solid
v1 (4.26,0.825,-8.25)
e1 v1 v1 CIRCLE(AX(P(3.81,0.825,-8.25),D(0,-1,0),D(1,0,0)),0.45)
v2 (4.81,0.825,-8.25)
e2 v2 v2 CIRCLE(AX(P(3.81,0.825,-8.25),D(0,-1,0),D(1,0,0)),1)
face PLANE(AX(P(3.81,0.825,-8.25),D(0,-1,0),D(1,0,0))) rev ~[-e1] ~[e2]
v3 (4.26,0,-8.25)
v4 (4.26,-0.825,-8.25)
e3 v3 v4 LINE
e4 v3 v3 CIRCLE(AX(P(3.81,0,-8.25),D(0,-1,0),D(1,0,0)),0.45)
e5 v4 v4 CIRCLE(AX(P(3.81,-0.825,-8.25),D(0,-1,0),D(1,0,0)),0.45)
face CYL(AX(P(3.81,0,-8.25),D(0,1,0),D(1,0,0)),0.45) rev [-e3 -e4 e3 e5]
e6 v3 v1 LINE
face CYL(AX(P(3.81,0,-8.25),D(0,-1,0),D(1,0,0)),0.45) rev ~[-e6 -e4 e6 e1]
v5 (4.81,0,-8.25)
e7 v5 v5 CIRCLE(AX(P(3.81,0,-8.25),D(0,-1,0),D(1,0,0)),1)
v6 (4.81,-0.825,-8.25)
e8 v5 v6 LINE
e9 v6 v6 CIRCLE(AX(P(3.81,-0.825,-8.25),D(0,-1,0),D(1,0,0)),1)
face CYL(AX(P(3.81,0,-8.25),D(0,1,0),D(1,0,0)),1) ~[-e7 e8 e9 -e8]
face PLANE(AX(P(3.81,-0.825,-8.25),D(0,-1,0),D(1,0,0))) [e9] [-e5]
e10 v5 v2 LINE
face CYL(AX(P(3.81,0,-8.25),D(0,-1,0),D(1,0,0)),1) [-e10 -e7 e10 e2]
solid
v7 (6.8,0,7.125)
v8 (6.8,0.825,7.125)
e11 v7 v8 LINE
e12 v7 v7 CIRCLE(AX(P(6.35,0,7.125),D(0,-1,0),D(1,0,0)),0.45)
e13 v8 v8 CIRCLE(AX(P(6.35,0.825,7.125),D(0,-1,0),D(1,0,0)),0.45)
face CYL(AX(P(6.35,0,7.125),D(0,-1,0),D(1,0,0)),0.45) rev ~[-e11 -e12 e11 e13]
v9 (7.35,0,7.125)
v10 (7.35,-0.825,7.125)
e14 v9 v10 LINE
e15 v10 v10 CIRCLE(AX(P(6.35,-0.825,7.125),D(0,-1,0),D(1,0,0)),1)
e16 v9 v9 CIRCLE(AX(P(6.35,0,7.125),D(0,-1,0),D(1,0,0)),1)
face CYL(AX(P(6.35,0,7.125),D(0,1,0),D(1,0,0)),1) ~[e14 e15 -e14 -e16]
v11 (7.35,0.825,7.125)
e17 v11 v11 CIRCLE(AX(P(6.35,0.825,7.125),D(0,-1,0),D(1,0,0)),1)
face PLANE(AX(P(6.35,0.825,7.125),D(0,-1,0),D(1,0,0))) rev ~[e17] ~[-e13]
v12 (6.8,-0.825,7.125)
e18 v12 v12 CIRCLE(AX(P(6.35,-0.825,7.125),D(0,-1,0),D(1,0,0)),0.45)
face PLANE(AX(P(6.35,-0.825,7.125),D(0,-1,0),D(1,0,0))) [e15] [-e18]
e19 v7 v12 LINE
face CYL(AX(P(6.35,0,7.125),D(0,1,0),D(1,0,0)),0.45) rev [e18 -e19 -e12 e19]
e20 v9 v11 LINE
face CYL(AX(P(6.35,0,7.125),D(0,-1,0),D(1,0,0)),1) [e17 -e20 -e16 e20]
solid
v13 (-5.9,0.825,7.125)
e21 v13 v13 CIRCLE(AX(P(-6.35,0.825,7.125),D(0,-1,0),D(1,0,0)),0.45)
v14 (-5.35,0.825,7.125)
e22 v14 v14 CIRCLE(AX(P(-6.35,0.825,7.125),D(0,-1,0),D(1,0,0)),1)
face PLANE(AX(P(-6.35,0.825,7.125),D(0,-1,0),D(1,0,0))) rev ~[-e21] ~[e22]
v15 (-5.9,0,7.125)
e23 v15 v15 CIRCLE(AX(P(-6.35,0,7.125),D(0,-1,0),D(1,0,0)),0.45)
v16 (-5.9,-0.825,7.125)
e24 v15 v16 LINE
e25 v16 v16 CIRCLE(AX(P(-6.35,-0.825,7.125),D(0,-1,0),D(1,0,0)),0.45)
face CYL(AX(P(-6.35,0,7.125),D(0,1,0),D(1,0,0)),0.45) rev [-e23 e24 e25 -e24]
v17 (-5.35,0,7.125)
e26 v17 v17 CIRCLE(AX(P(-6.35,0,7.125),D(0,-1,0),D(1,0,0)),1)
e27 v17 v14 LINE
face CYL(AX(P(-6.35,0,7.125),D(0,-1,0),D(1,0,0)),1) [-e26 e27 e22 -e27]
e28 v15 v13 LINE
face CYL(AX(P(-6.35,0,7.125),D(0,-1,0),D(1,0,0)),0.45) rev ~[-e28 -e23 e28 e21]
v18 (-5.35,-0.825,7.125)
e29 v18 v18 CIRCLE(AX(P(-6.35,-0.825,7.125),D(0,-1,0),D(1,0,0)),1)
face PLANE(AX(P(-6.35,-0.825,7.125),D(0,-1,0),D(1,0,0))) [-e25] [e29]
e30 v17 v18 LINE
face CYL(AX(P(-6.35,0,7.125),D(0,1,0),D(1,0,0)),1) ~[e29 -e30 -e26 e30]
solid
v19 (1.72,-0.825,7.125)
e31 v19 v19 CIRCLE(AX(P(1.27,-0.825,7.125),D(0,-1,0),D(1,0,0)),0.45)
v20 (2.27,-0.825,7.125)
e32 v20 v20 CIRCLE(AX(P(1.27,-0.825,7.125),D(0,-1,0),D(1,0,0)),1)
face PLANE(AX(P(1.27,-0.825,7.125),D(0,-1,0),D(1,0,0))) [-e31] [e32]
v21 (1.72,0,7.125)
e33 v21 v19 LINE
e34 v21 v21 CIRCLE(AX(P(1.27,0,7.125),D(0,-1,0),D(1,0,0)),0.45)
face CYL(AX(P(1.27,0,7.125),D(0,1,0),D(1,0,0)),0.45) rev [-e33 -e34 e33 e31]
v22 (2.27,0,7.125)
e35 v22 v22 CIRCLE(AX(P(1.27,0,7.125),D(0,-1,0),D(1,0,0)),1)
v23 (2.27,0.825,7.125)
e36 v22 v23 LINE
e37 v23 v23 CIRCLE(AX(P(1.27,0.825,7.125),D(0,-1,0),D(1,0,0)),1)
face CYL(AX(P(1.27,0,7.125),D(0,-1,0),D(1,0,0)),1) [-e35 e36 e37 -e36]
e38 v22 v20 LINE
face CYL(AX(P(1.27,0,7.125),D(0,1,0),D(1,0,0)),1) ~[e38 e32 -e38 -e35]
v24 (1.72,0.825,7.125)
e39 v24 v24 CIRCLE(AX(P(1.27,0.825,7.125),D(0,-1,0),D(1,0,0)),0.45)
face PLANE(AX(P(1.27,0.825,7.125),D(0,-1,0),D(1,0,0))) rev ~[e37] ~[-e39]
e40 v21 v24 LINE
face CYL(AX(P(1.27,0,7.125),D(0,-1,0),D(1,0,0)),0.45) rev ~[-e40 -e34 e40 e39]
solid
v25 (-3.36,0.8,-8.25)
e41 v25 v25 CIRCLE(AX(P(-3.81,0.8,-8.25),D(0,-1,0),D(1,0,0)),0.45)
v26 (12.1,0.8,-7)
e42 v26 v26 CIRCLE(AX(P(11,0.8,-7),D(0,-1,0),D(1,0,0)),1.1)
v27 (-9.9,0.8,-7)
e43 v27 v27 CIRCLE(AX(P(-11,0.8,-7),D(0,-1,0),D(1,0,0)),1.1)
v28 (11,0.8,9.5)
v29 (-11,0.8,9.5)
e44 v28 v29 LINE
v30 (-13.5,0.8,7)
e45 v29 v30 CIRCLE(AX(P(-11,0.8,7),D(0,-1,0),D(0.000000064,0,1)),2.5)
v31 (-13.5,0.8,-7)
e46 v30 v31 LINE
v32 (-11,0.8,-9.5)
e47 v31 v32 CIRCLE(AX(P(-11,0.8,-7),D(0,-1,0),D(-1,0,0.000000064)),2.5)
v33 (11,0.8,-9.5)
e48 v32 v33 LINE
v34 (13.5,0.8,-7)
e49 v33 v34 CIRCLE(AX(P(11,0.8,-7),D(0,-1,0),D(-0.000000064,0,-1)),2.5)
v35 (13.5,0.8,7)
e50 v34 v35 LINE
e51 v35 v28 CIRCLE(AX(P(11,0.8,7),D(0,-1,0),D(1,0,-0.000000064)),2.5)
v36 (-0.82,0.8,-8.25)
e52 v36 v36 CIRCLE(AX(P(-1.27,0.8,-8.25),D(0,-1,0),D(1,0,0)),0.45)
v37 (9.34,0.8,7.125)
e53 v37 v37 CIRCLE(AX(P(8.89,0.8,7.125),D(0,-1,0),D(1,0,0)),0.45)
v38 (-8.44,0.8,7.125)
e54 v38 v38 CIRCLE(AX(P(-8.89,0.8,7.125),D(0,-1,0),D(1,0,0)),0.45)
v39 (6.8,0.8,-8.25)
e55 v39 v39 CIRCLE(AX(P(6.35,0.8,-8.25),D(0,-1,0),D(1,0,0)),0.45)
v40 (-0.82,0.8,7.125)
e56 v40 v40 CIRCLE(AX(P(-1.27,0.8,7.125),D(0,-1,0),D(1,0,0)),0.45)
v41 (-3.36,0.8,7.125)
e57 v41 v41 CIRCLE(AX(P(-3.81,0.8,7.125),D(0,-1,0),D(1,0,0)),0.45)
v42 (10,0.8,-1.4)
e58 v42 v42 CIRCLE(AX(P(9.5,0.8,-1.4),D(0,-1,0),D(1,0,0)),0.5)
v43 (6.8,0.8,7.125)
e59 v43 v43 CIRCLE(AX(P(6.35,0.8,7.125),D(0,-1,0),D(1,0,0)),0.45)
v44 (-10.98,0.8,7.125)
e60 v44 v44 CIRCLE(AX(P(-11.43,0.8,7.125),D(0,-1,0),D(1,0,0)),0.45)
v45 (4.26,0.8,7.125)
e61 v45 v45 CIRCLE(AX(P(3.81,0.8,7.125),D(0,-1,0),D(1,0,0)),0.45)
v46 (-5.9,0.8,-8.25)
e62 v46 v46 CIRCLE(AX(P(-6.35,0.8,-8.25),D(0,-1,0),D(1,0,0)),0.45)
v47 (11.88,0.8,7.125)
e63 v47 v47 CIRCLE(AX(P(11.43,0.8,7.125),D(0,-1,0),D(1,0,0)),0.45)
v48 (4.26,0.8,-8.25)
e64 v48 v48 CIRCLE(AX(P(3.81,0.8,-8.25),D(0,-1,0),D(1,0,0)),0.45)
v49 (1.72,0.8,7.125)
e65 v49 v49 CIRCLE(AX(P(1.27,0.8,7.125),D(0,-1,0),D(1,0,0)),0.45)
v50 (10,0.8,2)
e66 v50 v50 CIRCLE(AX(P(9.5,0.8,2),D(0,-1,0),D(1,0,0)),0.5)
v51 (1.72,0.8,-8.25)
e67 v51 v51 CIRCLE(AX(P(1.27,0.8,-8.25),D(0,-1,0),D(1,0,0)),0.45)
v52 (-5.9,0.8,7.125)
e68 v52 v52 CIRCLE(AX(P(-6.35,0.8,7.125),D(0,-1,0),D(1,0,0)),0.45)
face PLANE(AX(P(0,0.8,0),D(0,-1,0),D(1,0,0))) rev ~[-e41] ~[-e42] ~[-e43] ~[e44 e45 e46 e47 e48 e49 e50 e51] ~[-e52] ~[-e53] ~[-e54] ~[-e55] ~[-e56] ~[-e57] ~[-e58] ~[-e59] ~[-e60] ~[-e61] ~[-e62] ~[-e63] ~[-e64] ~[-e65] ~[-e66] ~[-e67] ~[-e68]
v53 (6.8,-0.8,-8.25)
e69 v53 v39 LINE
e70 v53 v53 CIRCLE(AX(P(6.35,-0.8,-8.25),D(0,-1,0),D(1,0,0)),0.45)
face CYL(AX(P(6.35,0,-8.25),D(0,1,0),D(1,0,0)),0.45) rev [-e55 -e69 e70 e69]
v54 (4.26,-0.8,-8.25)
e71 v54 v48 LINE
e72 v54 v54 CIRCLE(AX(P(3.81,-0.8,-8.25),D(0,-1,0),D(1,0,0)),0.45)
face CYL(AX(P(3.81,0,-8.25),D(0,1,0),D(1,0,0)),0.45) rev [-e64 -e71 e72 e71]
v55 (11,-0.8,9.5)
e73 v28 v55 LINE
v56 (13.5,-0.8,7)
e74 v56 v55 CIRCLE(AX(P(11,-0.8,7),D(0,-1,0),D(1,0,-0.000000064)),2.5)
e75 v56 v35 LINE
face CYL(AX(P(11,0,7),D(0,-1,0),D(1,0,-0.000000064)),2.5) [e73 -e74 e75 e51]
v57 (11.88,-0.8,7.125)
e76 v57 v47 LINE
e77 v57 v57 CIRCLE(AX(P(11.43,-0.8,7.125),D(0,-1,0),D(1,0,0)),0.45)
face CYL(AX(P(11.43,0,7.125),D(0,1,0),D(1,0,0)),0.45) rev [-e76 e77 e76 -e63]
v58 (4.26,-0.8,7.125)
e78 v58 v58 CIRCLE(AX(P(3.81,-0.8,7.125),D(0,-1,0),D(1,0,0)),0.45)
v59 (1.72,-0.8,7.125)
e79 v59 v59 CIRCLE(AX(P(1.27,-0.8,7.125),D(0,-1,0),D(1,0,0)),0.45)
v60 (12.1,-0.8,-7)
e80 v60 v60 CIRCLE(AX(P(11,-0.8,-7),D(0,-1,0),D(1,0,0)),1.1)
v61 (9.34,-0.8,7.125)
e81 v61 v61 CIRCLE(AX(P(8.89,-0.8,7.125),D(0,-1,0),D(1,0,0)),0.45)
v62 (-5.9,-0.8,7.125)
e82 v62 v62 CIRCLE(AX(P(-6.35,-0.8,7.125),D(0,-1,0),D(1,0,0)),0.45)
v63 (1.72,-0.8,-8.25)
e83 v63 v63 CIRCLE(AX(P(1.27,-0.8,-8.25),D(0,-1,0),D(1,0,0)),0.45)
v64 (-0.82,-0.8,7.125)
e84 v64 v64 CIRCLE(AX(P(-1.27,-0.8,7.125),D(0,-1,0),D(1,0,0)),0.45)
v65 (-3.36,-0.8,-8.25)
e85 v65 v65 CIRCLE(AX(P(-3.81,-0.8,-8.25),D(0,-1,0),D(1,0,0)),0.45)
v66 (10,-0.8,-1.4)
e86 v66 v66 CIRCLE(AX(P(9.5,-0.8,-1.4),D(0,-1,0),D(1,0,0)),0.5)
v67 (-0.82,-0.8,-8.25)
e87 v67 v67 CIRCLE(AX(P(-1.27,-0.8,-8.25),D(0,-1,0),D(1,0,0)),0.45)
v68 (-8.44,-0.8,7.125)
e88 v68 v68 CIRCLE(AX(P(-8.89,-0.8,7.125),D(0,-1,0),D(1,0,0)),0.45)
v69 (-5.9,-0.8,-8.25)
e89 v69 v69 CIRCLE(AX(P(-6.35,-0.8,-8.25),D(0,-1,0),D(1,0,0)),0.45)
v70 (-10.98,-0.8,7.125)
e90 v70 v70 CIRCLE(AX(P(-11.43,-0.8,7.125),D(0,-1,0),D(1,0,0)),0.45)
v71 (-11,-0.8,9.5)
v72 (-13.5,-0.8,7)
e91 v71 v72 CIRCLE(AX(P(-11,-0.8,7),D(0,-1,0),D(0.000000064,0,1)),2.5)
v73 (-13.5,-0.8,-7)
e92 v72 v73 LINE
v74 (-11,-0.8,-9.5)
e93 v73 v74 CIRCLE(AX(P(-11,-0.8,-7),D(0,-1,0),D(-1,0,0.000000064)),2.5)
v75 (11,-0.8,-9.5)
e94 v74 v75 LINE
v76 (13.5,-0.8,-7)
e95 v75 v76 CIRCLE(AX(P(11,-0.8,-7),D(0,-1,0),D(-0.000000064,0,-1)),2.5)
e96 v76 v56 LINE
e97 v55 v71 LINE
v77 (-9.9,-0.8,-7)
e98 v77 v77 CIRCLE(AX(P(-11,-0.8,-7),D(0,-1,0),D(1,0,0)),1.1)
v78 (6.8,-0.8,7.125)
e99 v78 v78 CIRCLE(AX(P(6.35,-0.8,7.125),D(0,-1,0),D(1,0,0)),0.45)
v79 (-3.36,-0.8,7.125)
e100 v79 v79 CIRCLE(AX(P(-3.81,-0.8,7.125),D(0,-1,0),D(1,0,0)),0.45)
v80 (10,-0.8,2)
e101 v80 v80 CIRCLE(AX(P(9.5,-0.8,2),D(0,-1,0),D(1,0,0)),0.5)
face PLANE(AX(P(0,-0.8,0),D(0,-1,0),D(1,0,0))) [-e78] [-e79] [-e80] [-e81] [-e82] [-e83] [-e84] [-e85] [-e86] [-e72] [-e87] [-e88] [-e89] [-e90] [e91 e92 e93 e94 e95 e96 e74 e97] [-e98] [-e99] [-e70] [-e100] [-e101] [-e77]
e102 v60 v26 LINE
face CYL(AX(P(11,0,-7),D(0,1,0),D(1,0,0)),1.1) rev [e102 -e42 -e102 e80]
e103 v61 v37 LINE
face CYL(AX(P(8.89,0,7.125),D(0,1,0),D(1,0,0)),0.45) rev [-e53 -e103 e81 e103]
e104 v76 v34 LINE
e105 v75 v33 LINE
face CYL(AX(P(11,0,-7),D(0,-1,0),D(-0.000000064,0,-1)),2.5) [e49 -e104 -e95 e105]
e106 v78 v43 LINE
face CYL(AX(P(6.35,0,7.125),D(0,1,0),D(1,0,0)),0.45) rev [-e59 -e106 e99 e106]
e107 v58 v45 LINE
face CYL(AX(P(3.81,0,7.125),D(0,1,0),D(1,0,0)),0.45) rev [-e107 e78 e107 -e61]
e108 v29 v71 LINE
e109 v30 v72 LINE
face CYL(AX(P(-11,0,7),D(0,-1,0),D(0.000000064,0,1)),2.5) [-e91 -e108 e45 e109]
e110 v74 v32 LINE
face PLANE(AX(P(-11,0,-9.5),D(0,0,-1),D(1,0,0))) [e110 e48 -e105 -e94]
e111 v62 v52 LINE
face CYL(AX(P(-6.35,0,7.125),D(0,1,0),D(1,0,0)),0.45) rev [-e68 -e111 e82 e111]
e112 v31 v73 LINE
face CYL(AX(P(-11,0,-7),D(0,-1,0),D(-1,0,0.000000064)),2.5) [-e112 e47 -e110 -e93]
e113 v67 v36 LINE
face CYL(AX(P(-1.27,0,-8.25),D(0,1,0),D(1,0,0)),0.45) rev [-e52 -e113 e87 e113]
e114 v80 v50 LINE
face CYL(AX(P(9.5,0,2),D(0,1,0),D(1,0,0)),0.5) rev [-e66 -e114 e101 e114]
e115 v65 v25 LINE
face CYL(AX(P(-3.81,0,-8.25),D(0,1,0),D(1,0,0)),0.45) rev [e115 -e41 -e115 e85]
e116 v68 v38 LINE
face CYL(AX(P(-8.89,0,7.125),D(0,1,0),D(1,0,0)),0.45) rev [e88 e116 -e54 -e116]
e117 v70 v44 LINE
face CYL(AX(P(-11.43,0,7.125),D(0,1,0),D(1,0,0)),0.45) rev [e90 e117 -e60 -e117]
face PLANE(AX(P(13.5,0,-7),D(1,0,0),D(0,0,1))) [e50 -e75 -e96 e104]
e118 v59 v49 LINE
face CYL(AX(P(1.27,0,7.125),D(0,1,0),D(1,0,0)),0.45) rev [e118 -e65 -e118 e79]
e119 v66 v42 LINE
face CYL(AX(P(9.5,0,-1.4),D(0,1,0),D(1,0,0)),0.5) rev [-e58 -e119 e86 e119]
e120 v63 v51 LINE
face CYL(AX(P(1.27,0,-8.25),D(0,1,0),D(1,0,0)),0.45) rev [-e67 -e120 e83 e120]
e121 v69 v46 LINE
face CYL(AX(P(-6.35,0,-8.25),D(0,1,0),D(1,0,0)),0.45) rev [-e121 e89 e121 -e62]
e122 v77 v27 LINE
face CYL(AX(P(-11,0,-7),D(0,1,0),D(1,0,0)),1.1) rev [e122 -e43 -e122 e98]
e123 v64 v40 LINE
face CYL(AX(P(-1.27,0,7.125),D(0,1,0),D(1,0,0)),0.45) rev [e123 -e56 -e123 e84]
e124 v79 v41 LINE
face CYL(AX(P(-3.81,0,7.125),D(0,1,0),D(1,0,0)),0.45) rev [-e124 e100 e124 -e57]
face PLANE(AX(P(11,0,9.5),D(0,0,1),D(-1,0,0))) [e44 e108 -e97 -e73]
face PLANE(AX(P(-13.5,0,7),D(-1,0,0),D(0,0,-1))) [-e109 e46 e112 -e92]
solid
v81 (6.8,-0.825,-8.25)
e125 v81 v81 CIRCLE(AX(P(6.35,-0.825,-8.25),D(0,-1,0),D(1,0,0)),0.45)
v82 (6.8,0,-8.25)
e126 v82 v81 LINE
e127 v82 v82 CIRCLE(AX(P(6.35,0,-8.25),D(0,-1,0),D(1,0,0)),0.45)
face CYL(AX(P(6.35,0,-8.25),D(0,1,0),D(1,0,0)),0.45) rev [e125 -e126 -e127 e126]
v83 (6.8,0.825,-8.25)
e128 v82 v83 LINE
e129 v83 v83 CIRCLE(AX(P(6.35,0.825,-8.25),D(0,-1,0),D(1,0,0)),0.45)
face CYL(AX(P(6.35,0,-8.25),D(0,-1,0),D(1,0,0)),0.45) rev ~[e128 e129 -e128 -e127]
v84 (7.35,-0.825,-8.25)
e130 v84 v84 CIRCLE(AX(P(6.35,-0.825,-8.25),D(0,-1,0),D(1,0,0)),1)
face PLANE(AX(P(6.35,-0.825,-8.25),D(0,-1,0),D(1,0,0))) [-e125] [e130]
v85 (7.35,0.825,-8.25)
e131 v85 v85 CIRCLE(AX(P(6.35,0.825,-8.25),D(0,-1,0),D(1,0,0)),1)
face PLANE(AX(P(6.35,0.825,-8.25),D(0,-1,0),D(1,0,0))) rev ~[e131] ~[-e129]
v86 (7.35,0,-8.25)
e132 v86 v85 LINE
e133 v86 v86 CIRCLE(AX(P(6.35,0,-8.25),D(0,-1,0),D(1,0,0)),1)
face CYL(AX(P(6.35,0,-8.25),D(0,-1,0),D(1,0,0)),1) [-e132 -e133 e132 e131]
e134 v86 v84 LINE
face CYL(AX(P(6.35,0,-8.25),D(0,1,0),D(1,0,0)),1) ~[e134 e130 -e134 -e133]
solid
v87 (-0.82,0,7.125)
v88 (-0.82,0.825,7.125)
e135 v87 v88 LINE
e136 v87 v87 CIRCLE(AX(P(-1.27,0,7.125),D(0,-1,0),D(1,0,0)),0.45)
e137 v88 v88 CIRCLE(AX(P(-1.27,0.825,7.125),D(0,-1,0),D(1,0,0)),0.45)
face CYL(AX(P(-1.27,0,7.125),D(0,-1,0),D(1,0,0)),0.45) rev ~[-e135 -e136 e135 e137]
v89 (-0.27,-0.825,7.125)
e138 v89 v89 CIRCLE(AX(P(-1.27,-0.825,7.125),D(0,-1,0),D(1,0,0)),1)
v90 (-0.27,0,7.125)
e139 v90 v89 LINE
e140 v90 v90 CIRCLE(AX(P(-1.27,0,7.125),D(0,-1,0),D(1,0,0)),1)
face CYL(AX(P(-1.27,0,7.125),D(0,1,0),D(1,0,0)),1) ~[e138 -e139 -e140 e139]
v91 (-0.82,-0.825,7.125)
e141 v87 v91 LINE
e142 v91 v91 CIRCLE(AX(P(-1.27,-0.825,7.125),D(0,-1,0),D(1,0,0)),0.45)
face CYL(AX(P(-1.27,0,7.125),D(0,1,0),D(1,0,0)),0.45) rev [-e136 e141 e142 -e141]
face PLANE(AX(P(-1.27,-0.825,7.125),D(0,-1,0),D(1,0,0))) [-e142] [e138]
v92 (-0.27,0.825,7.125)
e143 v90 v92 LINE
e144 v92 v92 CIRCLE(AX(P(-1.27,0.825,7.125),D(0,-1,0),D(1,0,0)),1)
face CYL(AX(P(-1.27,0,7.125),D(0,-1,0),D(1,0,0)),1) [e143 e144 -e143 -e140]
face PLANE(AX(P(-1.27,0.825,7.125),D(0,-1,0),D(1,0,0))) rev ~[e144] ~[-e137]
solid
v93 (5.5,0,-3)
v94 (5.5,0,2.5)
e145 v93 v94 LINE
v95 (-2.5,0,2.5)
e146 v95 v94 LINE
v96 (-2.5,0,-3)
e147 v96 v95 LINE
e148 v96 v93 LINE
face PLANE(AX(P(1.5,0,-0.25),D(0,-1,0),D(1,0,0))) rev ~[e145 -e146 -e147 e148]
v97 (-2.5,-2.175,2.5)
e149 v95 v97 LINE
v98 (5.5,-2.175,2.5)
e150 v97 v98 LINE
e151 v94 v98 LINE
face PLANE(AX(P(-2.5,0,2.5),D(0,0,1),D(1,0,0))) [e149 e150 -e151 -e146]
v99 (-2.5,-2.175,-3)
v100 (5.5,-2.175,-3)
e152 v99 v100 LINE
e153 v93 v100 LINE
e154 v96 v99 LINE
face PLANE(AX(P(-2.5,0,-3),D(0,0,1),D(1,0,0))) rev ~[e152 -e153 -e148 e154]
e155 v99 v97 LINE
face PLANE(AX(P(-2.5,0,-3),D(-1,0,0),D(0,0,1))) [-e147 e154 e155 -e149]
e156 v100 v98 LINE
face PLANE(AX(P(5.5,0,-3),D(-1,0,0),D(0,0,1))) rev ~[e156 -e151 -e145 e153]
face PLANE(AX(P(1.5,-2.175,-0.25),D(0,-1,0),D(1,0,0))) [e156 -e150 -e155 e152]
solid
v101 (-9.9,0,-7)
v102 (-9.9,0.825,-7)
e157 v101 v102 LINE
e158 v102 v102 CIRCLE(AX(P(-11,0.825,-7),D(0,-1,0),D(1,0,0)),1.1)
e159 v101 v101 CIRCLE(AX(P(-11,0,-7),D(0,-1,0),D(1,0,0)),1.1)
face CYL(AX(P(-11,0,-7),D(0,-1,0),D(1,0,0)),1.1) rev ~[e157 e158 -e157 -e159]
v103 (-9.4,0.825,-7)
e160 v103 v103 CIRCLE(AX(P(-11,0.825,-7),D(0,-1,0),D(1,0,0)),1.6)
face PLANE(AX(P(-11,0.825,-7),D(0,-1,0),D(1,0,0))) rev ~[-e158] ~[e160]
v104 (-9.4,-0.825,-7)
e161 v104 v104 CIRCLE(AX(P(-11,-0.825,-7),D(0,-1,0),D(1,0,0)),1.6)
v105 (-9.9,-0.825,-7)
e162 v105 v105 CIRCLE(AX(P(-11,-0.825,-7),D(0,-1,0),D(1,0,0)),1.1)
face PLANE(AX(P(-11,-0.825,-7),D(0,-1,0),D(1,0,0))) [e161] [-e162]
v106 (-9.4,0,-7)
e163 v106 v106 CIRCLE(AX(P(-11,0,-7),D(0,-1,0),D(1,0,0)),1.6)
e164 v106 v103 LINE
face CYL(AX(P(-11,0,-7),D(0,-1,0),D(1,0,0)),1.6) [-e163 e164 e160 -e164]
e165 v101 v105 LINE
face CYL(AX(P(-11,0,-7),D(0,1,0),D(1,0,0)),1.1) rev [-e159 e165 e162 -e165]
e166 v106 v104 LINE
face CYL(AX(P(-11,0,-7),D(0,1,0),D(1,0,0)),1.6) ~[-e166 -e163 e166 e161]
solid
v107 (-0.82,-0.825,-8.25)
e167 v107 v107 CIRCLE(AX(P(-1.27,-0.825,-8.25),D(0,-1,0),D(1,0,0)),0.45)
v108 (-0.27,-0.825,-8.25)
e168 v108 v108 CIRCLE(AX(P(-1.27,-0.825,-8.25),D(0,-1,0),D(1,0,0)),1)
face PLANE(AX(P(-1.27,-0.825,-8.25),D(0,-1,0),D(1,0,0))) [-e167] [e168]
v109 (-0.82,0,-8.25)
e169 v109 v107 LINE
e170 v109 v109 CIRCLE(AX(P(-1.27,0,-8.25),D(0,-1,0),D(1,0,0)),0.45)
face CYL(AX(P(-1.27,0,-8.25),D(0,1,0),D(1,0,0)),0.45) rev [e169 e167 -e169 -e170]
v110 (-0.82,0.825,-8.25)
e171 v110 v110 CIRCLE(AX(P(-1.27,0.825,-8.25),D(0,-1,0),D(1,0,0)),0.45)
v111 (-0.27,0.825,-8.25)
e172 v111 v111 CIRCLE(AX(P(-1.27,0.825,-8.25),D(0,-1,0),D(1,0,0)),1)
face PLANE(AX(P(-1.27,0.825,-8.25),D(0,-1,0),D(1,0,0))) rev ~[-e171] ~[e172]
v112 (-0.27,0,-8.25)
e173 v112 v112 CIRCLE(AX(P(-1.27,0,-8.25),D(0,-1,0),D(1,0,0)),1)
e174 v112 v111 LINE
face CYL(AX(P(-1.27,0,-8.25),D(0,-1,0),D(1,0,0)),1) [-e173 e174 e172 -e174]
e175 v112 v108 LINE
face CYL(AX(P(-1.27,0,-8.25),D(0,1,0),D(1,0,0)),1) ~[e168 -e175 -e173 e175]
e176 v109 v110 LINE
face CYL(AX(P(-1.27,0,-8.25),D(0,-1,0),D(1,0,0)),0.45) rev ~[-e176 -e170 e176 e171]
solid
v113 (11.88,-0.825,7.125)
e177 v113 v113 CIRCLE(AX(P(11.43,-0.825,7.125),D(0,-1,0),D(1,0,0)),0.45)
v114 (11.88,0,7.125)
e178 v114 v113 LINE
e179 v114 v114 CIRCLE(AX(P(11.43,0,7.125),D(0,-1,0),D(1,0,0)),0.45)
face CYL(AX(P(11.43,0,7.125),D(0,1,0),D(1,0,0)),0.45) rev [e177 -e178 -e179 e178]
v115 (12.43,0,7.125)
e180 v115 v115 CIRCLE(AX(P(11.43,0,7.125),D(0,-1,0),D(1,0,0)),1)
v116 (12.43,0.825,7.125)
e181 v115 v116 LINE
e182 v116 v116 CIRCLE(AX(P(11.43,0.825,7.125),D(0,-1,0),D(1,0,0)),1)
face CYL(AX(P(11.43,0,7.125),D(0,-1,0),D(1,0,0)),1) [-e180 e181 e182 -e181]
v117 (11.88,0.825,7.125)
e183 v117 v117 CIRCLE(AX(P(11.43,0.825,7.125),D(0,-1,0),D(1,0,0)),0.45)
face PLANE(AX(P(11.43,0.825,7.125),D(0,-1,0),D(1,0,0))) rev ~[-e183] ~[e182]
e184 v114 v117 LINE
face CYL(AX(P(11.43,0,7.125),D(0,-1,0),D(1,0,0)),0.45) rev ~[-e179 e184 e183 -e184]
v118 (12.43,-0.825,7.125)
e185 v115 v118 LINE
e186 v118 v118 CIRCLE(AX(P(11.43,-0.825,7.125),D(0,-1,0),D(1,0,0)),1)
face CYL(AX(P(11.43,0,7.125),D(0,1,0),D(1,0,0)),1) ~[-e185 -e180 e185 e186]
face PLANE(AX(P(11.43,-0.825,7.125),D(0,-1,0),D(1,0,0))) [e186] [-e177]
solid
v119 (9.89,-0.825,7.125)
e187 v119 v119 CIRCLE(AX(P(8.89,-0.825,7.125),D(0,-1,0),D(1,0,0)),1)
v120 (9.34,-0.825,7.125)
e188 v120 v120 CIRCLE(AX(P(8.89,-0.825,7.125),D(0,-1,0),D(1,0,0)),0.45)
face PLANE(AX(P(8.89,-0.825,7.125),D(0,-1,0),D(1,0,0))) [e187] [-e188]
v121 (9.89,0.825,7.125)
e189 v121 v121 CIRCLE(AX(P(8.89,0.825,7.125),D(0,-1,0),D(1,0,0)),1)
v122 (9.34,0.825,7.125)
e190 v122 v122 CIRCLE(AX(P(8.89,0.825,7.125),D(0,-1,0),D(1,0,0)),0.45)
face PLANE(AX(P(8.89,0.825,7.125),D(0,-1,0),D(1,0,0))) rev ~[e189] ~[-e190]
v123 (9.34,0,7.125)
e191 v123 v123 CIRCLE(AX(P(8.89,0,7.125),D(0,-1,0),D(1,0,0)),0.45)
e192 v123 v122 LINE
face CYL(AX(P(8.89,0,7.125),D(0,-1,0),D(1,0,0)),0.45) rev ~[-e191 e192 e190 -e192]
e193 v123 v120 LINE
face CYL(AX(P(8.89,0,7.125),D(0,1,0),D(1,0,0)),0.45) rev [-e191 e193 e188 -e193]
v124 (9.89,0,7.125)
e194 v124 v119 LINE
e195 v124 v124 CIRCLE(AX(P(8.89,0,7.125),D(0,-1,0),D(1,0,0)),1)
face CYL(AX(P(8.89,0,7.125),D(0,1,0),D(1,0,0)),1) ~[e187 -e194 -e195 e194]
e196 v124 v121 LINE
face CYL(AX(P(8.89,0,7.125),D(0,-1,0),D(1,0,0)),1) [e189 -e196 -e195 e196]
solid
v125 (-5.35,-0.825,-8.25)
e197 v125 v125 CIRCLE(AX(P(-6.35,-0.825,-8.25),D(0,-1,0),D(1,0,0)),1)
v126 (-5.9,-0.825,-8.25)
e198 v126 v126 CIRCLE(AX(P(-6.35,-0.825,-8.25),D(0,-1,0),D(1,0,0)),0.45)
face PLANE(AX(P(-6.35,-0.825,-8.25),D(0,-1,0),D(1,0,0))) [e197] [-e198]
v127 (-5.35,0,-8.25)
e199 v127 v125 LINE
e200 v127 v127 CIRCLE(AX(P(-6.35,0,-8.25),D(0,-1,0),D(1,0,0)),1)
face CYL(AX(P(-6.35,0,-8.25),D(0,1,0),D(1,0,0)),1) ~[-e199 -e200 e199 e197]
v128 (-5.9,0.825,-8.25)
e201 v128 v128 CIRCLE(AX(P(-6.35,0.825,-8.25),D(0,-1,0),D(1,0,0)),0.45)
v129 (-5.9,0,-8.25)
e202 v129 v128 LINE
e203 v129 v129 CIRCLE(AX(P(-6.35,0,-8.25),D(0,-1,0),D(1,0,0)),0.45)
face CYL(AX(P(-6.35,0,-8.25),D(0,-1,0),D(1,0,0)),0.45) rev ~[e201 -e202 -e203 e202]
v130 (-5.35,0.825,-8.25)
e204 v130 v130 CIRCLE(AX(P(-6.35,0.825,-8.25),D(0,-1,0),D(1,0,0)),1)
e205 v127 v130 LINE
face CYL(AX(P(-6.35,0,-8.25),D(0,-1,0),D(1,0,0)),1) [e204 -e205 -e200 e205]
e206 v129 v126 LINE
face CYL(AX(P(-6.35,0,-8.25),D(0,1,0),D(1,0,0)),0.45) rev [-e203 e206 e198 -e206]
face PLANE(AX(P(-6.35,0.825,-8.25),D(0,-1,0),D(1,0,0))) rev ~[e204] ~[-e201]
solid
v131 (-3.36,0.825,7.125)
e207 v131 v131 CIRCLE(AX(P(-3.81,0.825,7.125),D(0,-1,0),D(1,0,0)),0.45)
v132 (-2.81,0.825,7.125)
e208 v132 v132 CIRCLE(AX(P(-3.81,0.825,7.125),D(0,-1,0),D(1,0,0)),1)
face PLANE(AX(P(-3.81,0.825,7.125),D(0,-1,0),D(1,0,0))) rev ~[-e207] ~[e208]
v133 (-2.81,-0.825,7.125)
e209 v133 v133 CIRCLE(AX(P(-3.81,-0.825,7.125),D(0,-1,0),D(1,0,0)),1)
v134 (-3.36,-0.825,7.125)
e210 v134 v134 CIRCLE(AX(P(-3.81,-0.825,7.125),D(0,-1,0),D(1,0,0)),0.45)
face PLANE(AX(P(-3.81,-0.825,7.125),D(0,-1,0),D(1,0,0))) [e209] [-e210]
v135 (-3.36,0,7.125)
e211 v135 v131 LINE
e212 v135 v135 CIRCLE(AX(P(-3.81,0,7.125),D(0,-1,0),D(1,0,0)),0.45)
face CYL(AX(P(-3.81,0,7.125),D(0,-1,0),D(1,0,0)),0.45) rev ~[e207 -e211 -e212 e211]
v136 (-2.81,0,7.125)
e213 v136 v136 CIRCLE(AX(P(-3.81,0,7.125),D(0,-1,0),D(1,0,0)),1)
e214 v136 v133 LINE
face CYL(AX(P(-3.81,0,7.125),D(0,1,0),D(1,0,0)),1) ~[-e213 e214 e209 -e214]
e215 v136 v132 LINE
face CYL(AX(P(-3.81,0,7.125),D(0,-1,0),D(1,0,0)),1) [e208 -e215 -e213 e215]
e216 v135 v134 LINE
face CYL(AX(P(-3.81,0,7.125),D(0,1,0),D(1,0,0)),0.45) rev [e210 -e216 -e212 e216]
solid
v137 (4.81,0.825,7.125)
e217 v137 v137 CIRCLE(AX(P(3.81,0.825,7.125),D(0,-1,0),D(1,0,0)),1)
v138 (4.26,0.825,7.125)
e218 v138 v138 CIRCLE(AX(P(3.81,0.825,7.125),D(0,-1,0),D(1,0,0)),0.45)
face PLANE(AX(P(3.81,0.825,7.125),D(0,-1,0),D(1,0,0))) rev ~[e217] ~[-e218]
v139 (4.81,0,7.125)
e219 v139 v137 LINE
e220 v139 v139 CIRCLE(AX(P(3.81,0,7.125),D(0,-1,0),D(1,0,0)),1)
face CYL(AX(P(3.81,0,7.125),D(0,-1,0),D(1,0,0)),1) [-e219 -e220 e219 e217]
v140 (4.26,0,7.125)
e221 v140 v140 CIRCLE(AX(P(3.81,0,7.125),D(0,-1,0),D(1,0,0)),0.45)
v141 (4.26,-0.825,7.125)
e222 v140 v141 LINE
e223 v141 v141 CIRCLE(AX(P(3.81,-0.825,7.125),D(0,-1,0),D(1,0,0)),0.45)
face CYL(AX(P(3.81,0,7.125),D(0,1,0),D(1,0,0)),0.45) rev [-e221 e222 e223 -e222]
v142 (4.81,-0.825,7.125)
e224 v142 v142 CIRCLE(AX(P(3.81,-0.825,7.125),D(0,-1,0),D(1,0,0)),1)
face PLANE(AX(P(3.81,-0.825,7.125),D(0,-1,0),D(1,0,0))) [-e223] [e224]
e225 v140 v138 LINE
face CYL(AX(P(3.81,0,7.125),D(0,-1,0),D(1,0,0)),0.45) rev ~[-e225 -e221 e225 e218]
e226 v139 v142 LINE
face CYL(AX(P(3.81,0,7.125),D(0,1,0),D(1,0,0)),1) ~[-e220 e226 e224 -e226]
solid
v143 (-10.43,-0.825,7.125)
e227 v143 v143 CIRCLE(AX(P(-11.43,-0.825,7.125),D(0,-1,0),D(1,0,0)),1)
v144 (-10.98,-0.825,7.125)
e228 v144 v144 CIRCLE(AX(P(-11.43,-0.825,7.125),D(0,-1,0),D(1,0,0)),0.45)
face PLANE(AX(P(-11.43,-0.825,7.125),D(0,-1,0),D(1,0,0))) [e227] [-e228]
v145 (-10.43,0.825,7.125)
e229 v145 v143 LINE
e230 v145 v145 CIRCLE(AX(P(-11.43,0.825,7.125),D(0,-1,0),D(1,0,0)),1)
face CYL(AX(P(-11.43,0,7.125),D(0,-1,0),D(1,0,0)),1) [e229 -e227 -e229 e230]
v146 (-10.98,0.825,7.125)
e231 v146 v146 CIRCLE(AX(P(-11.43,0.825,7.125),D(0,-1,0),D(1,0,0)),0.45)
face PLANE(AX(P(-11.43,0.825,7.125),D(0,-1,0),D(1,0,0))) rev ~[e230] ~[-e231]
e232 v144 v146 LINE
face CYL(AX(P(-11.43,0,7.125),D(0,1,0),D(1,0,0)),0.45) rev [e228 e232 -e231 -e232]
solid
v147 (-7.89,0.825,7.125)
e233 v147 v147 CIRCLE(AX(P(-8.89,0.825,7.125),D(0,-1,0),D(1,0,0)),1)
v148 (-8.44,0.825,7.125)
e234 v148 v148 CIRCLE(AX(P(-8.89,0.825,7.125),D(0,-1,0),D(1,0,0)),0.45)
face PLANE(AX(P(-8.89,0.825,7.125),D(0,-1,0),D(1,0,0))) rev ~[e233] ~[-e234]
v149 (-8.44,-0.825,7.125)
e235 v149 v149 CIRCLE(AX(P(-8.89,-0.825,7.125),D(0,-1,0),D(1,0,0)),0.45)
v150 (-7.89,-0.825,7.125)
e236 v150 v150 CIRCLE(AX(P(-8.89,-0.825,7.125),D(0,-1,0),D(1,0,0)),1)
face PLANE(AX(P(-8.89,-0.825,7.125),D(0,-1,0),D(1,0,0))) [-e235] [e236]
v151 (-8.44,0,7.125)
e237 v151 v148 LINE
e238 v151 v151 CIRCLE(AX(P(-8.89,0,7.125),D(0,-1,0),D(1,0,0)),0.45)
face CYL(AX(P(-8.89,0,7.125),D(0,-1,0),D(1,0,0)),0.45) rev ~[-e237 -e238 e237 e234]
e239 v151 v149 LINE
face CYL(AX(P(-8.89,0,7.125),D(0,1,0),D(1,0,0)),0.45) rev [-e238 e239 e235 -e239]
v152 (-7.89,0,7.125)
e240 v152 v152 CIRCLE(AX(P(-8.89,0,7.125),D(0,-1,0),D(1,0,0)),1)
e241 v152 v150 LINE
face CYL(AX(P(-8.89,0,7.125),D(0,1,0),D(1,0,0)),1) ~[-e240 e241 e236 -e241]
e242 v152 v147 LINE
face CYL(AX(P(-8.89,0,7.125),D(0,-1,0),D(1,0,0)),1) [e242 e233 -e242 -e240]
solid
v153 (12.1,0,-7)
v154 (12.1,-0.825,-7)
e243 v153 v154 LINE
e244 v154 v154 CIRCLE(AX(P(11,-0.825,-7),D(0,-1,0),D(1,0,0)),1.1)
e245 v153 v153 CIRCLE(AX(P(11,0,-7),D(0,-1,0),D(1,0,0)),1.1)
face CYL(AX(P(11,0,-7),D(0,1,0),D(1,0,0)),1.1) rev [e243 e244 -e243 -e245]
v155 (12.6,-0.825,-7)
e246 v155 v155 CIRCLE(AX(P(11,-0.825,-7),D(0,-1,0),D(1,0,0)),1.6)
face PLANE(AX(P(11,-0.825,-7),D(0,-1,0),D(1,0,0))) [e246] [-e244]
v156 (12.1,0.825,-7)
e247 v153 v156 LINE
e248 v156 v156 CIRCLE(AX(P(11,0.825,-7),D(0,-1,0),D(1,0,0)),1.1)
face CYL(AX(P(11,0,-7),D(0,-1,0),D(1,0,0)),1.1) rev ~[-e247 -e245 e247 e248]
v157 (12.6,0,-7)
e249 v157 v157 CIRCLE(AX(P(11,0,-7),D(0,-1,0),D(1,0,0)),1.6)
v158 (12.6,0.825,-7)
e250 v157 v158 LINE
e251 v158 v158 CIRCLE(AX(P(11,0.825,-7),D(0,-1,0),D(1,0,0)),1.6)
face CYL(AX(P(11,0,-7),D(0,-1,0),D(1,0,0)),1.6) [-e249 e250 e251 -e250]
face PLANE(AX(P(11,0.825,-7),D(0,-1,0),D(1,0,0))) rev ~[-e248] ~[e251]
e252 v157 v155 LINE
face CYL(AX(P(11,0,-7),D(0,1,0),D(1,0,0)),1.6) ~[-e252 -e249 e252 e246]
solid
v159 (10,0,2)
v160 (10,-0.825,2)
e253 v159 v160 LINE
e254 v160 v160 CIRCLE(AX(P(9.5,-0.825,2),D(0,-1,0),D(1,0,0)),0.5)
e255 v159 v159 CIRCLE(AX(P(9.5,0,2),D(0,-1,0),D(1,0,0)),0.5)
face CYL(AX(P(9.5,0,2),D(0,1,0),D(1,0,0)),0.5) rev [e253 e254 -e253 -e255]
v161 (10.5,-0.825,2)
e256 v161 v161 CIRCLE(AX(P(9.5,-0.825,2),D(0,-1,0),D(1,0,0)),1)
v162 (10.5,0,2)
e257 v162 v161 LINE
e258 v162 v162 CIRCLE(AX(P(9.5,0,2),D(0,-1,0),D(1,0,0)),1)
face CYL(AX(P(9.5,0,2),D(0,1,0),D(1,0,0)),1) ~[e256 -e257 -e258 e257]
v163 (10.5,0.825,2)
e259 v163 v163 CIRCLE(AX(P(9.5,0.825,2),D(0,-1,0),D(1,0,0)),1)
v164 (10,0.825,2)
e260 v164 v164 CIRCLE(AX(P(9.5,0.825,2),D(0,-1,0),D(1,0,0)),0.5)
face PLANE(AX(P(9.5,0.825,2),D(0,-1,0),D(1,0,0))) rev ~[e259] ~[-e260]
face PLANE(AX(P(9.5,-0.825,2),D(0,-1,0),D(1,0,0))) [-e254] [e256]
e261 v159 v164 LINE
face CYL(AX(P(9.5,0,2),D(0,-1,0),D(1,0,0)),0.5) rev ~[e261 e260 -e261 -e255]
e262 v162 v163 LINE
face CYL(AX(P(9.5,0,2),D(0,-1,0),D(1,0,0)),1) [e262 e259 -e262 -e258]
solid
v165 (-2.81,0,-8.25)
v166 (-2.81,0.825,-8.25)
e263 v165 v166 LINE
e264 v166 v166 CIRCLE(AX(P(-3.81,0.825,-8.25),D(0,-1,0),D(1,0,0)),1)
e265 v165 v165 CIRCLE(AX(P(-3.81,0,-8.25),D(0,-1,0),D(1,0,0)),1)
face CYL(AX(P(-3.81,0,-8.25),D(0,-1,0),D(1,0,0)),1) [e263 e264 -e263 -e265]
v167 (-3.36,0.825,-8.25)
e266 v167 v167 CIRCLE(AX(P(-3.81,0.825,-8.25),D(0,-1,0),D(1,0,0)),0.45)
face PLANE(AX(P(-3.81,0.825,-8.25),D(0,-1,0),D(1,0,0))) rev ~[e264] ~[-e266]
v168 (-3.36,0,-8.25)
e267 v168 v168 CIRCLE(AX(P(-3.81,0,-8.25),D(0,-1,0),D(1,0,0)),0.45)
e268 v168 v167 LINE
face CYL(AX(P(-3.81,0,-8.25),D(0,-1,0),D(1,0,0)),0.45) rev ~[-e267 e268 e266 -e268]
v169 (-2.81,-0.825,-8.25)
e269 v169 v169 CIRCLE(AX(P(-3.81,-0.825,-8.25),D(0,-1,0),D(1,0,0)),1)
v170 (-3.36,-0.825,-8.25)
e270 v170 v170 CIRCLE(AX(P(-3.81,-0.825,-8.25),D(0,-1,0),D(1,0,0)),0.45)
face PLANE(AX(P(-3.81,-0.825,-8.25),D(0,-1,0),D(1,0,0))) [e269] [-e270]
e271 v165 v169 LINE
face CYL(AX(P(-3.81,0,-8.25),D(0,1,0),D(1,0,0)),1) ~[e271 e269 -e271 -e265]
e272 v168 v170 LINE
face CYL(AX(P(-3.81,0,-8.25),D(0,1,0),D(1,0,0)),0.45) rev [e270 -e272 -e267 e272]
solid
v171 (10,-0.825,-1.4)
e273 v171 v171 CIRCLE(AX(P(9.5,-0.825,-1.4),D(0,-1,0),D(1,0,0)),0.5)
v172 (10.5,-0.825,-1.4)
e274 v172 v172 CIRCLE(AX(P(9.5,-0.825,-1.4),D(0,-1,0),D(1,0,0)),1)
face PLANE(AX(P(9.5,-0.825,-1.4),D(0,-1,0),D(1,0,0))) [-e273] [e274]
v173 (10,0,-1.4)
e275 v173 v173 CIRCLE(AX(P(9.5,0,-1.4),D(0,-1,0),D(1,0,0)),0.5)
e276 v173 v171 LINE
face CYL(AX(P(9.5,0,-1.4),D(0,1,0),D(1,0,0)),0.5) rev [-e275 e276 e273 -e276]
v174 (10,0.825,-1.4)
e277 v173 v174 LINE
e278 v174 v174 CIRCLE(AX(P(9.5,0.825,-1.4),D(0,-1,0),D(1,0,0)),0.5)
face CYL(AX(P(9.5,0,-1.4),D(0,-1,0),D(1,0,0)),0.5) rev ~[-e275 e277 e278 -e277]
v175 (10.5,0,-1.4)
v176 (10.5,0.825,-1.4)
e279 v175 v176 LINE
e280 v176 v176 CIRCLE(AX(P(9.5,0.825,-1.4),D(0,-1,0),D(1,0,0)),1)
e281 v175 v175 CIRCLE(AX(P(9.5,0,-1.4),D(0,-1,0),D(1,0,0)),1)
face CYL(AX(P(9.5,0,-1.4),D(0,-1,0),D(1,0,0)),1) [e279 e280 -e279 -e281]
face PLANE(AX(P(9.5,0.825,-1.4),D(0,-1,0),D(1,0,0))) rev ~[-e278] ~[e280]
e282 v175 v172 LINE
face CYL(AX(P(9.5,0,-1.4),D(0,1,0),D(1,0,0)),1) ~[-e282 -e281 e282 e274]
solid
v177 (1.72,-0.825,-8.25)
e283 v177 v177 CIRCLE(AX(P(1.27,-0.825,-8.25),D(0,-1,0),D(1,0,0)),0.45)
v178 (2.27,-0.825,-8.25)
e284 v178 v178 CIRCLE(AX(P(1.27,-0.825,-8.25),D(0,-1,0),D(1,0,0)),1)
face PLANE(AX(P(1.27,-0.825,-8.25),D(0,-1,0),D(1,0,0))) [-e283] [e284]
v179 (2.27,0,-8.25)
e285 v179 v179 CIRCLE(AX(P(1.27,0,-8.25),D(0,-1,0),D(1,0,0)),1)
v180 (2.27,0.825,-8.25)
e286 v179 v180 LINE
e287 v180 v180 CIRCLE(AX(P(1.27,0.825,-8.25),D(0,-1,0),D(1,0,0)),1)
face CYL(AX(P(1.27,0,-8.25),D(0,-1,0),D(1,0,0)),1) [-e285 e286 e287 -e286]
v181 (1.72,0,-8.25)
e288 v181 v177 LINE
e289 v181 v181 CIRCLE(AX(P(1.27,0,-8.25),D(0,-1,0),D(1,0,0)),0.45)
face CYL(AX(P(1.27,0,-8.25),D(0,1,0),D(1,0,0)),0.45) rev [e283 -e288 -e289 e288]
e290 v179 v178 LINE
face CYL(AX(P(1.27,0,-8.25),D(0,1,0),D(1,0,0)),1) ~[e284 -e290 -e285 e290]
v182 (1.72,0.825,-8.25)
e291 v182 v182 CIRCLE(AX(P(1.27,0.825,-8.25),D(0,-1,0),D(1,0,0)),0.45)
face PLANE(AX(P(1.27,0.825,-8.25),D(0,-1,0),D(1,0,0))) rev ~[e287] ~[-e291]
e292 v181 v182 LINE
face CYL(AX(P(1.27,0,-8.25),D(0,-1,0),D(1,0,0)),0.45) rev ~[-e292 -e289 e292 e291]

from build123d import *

# Parameters (mm, degrees)
F0_R     = 1.6
F0_R_2   = 1
F0_W     = 8
F0_H     = 5.5
F0_R_3   = 0.45
F0_R_4   = 0.5
F0_R_5   = 1.1
F1_DEPTH = 0.8
F2_DEPTH = 0.825
F3_DEPTH = 2.175


with BuildPart() as f1:
    # F0 (on Front) → F1 (new body, symmetric)
    with BuildSketch(Plane.XZ):
        with BuildLine():
            ThreePointArc((13.5, 7), (12.767767, 8.767767), (11, 9.5))
            Line((11, 9.5), (-11, 9.5))
            ThreePointArc((-11, 9.5), (-12.767767, 8.767767), (-13.5, 7))
            Line((-13.5, 7), (-13.5, -7))
            ThreePointArc((-13.5, -7), (-12.767767, -8.767767), (-11, -9.5))
            Line((-11, -9.5), (11, -9.5))
            ThreePointArc((11, -9.5), (12.767767, -8.767767), (13.5, -7))
            Line((13.5, -7), (13.5, 7))
        make_face()
        with Locations((-11, -7)):
            Circle(F0_R, mode=Mode.SUBTRACT)
        with Locations((-6.35, -8.25)):
            Circle(F0_R_2, mode=Mode.SUBTRACT)
        with Locations((-3.81, -8.25)):
            Circle(F0_R_2, mode=Mode.SUBTRACT)
        with Locations((-1.27, -8.25)):
            Circle(F0_R_2, mode=Mode.SUBTRACT)
        with Locations((1.27, -8.25)):
            Circle(F0_R_2, mode=Mode.SUBTRACT)
        with Locations((3.81, -8.25)):
            Circle(F0_R_2, mode=Mode.SUBTRACT)
        with Locations((6.35, -8.25)):
            Circle(F0_R_2, mode=Mode.SUBTRACT)
        with Locations((11, -7)):
            Circle(F0_R, mode=Mode.SUBTRACT)
        with Locations((1.5, -0.25)):
            Rectangle(F0_W, F0_H, mode=Mode.SUBTRACT)
        with Locations((9.5, -1.4)):
            Circle(F0_R_2, mode=Mode.SUBTRACT)
        with Locations((-11.43, 7.125)):
            Circle(F0_R_2, mode=Mode.SUBTRACT)
        with Locations((-8.89, 7.125)):
            Circle(F0_R_2, mode=Mode.SUBTRACT)
        with Locations((-6.35, 7.125)):
            Circle(F0_R_2, mode=Mode.SUBTRACT)
        with Locations((-3.81, 7.125)):
            Circle(F0_R_2, mode=Mode.SUBTRACT)
        with Locations((-1.27, 7.125)):
            Circle(F0_R_2, mode=Mode.SUBTRACT)
        with Locations((9.5, 2)):
            Circle(F0_R_2, mode=Mode.SUBTRACT)
        with Locations((1.27, 7.125)):
            Circle(F0_R_2, mode=Mode.SUBTRACT)
        with Locations((3.81, 7.125)):
            Circle(F0_R_2, mode=Mode.SUBTRACT)
        with Locations((6.35, 7.125)):
            Circle(F0_R_2, mode=Mode.SUBTRACT)
        with Locations((8.89, 7.125)):
            Circle(F0_R_2, mode=Mode.SUBTRACT)
        with Locations((11.43, 7.125)):
            Circle(F0_R_2, mode=Mode.SUBTRACT)
        with Locations((1.5, -0.25)):
            Rectangle(F0_W, F0_H)
        with Locations((-11.43, 7.125)):
            Circle(F0_R_2)
        with Locations((-11.43, 7.125)):
            Circle(F0_R_3, mode=Mode.SUBTRACT)
        with Locations((-8.89, 7.125)):
            Circle(F0_R_2)
        with Locations((-8.89, 7.125)):
            Circle(F0_R_3, mode=Mode.SUBTRACT)
        with Locations((-6.35, 7.125)):
            Circle(F0_R_2)
        with Locations((-6.35, 7.125)):
            Circle(F0_R_3, mode=Mode.SUBTRACT)
        with Locations((-3.81, 7.125)):
            Circle(F0_R_2)
        with Locations((-3.81, 7.125)):
            Circle(F0_R_3, mode=Mode.SUBTRACT)
        with Locations((-1.27, 7.125)):
            Circle(F0_R_2)
        with Locations((-1.27, 7.125)):
            Circle(F0_R_3, mode=Mode.SUBTRACT)
        with Locations((1.27, 7.125)):
            Circle(F0_R_2)
        with Locations((1.27, 7.125)):
            Circle(F0_R_3, mode=Mode.SUBTRACT)
        with Locations((3.81, 7.125)):
            Circle(F0_R_2)
        with Locations((3.81, 7.125)):
            Circle(F0_R_3, mode=Mode.SUBTRACT)
        with Locations((6.35, 7.125)):
            Circle(F0_R_2)
        with Locations((6.35, 7.125)):
            Circle(F0_R_3, mode=Mode.SUBTRACT)
        with Locations((8.89, 7.125)):
            Circle(F0_R_2)
        with Locations((8.89, 7.125)):
            Circle(F0_R_3, mode=Mode.SUBTRACT)
        with Locations((11.43, 7.125)):
            Circle(F0_R_2)
        with Locations((11.43, 7.125)):
            Circle(F0_R_3, mode=Mode.SUBTRACT)
        with Locations((9.5, 2)):
            Circle(F0_R_2)
        with Locations((9.5, 2)):
            Circle(F0_R_4, mode=Mode.SUBTRACT)
        with Locations((9.5, -1.4)):
            Circle(F0_R_2)
        with Locations((9.5, -1.4)):
            Circle(F0_R_4, mode=Mode.SUBTRACT)
        with Locations((6.35, -8.25)):
            Circle(F0_R_2)
        with Locations((6.35, -8.25)):
            Circle(F0_R_3, mode=Mode.SUBTRACT)
        with Locations((3.81, -8.25)):
            Circle(F0_R_2)
        with Locations((3.81, -8.25)):
            Circle(F0_R_3, mode=Mode.SUBTRACT)
        with Locations((1.27, -8.25)):
            Circle(F0_R_2)
        with Locations((1.27, -8.25)):
            Circle(F0_R_3, mode=Mode.SUBTRACT)
        with Locations((-1.27, -8.25)):
            Circle(F0_R_2)
        with Locations((-1.27, -8.25)):
            Circle(F0_R_3, mode=Mode.SUBTRACT)
        with Locations((-3.81, -8.25)):
            Circle(F0_R_2)
        with Locations((-3.81, -8.25)):
            Circle(F0_R_3, mode=Mode.SUBTRACT)
        with Locations((-6.35, -8.25)):
            Circle(F0_R_2)
        with Locations((-6.35, -8.25)):
            Circle(F0_R_3, mode=Mode.SUBTRACT)
        with Locations((11, -7)):
            Circle(F0_R)
        with Locations((11, -7)):
            Circle(F0_R_5, mode=Mode.SUBTRACT)
        with Locations((-11, -7)):
            Circle(F0_R)
        with Locations((-11, -7)):
            Circle(F0_R_5, mode=Mode.SUBTRACT)
    extrude(amount=F1_DEPTH, both=True)


with BuildPart() as f2:
    # F0 (on Front) → F2 (new body, symmetric)
    with BuildSketch(Plane.XZ):
        with Locations((-11, -7)):
            Circle(F0_R)
        with Locations((-11, -7)):
            Circle(F0_R_5, mode=Mode.SUBTRACT)
        with Locations((-6.35, -8.25)):
            Circle(F0_R_2)
        with Locations((-6.35, -8.25)):
            Circle(F0_R_3, mode=Mode.SUBTRACT)
        with Locations((-1.27, -8.25)):
            Circle(F0_R_2)
        with Locations((-1.27, -8.25)):
            Circle(F0_R_3, mode=Mode.SUBTRACT)
        with Locations((-3.81, -8.25)):
            Circle(F0_R_2)
        with Locations((-3.81, -8.25)):
            Circle(F0_R_3, mode=Mode.SUBTRACT)
        with Locations((1.27, -8.25)):
            Circle(F0_R_2)
        with Locations((1.27, -8.25)):
            Circle(F0_R_3, mode=Mode.SUBTRACT)
        with Locations((3.81, -8.25)):
            Circle(F0_R_2)
        with Locations((3.81, -8.25)):
            Circle(F0_R_3, mode=Mode.SUBTRACT)
        with Locations((6.35, -8.25)):
            Circle(F0_R_2)
        with Locations((6.35, -8.25)):
            Circle(F0_R_3, mode=Mode.SUBTRACT)
        with Locations((11, -7)):
            Circle(F0_R)
        with Locations((11, -7)):
            Circle(F0_R_5, mode=Mode.SUBTRACT)
        with Locations((9.5, -1.4)):
            Circle(F0_R_2)
        with Locations((9.5, -1.4)):
            Circle(F0_R_4, mode=Mode.SUBTRACT)
        with Locations((9.5, 2)):
            Circle(F0_R_2)
        with Locations((9.5, 2)):
            Circle(F0_R_4, mode=Mode.SUBTRACT)
        with Locations((11.43, 7.125)):
            Circle(F0_R_2)
        with Locations((11.43, 7.125)):
            Circle(F0_R_3, mode=Mode.SUBTRACT)
        with Locations((8.89, 7.125)):
            Circle(F0_R_2)
        with Locations((8.89, 7.125)):
            Circle(F0_R_3, mode=Mode.SUBTRACT)
        with Locations((6.35, 7.125)):
            Circle(F0_R_2)
        with Locations((6.35, 7.125)):
            Circle(F0_R_3, mode=Mode.SUBTRACT)
        with Locations((3.81, 7.125)):
            Circle(F0_R_2)
        with Locations((3.81, 7.125)):
            Circle(F0_R_3, mode=Mode.SUBTRACT)
        with Locations((1.27, 7.125)):
            Circle(F0_R_2)
        with Locations((1.27, 7.125)):
            Circle(F0_R_3, mode=Mode.SUBTRACT)
        with Locations((-1.27, 7.125)):
            Circle(F0_R_2)
        with Locations((-1.27, 7.125)):
            Circle(F0_R_3, mode=Mode.SUBTRACT)
        with Locations((-3.81, 7.125)):
            Circle(F0_R_2)
        with Locations((-3.81, 7.125)):
            Circle(F0_R_3, mode=Mode.SUBTRACT)
        with Locations((-6.35, 7.125)):
            Circle(F0_R_2)
        with Locations((-6.35, 7.125)):
            Circle(F0_R_3, mode=Mode.SUBTRACT)
        with Locations((-8.89, 7.125)):
            Circle(F0_R_2)
        with Locations((-8.89, 7.125)):
            Circle(F0_R_3, mode=Mode.SUBTRACT)
        with Locations((-11.43, 7.125)):
            Circle(F0_R_2)
        with Locations((-11.43, 7.125)):
            Circle(F0_R_3, mode=Mode.SUBTRACT)
    extrude(amount=F2_DEPTH, both=True)


with BuildPart() as f3:
    # F0 (on Front) → F3 (new body)
    with BuildSketch(Plane.XZ):
        with Locations((1.5, -0.25)):
            Rectangle(F0_W, F0_H)
    extrude(amount=F3_DEPTH)


solid = Compound([f1.part, f2.part, f3.part])
